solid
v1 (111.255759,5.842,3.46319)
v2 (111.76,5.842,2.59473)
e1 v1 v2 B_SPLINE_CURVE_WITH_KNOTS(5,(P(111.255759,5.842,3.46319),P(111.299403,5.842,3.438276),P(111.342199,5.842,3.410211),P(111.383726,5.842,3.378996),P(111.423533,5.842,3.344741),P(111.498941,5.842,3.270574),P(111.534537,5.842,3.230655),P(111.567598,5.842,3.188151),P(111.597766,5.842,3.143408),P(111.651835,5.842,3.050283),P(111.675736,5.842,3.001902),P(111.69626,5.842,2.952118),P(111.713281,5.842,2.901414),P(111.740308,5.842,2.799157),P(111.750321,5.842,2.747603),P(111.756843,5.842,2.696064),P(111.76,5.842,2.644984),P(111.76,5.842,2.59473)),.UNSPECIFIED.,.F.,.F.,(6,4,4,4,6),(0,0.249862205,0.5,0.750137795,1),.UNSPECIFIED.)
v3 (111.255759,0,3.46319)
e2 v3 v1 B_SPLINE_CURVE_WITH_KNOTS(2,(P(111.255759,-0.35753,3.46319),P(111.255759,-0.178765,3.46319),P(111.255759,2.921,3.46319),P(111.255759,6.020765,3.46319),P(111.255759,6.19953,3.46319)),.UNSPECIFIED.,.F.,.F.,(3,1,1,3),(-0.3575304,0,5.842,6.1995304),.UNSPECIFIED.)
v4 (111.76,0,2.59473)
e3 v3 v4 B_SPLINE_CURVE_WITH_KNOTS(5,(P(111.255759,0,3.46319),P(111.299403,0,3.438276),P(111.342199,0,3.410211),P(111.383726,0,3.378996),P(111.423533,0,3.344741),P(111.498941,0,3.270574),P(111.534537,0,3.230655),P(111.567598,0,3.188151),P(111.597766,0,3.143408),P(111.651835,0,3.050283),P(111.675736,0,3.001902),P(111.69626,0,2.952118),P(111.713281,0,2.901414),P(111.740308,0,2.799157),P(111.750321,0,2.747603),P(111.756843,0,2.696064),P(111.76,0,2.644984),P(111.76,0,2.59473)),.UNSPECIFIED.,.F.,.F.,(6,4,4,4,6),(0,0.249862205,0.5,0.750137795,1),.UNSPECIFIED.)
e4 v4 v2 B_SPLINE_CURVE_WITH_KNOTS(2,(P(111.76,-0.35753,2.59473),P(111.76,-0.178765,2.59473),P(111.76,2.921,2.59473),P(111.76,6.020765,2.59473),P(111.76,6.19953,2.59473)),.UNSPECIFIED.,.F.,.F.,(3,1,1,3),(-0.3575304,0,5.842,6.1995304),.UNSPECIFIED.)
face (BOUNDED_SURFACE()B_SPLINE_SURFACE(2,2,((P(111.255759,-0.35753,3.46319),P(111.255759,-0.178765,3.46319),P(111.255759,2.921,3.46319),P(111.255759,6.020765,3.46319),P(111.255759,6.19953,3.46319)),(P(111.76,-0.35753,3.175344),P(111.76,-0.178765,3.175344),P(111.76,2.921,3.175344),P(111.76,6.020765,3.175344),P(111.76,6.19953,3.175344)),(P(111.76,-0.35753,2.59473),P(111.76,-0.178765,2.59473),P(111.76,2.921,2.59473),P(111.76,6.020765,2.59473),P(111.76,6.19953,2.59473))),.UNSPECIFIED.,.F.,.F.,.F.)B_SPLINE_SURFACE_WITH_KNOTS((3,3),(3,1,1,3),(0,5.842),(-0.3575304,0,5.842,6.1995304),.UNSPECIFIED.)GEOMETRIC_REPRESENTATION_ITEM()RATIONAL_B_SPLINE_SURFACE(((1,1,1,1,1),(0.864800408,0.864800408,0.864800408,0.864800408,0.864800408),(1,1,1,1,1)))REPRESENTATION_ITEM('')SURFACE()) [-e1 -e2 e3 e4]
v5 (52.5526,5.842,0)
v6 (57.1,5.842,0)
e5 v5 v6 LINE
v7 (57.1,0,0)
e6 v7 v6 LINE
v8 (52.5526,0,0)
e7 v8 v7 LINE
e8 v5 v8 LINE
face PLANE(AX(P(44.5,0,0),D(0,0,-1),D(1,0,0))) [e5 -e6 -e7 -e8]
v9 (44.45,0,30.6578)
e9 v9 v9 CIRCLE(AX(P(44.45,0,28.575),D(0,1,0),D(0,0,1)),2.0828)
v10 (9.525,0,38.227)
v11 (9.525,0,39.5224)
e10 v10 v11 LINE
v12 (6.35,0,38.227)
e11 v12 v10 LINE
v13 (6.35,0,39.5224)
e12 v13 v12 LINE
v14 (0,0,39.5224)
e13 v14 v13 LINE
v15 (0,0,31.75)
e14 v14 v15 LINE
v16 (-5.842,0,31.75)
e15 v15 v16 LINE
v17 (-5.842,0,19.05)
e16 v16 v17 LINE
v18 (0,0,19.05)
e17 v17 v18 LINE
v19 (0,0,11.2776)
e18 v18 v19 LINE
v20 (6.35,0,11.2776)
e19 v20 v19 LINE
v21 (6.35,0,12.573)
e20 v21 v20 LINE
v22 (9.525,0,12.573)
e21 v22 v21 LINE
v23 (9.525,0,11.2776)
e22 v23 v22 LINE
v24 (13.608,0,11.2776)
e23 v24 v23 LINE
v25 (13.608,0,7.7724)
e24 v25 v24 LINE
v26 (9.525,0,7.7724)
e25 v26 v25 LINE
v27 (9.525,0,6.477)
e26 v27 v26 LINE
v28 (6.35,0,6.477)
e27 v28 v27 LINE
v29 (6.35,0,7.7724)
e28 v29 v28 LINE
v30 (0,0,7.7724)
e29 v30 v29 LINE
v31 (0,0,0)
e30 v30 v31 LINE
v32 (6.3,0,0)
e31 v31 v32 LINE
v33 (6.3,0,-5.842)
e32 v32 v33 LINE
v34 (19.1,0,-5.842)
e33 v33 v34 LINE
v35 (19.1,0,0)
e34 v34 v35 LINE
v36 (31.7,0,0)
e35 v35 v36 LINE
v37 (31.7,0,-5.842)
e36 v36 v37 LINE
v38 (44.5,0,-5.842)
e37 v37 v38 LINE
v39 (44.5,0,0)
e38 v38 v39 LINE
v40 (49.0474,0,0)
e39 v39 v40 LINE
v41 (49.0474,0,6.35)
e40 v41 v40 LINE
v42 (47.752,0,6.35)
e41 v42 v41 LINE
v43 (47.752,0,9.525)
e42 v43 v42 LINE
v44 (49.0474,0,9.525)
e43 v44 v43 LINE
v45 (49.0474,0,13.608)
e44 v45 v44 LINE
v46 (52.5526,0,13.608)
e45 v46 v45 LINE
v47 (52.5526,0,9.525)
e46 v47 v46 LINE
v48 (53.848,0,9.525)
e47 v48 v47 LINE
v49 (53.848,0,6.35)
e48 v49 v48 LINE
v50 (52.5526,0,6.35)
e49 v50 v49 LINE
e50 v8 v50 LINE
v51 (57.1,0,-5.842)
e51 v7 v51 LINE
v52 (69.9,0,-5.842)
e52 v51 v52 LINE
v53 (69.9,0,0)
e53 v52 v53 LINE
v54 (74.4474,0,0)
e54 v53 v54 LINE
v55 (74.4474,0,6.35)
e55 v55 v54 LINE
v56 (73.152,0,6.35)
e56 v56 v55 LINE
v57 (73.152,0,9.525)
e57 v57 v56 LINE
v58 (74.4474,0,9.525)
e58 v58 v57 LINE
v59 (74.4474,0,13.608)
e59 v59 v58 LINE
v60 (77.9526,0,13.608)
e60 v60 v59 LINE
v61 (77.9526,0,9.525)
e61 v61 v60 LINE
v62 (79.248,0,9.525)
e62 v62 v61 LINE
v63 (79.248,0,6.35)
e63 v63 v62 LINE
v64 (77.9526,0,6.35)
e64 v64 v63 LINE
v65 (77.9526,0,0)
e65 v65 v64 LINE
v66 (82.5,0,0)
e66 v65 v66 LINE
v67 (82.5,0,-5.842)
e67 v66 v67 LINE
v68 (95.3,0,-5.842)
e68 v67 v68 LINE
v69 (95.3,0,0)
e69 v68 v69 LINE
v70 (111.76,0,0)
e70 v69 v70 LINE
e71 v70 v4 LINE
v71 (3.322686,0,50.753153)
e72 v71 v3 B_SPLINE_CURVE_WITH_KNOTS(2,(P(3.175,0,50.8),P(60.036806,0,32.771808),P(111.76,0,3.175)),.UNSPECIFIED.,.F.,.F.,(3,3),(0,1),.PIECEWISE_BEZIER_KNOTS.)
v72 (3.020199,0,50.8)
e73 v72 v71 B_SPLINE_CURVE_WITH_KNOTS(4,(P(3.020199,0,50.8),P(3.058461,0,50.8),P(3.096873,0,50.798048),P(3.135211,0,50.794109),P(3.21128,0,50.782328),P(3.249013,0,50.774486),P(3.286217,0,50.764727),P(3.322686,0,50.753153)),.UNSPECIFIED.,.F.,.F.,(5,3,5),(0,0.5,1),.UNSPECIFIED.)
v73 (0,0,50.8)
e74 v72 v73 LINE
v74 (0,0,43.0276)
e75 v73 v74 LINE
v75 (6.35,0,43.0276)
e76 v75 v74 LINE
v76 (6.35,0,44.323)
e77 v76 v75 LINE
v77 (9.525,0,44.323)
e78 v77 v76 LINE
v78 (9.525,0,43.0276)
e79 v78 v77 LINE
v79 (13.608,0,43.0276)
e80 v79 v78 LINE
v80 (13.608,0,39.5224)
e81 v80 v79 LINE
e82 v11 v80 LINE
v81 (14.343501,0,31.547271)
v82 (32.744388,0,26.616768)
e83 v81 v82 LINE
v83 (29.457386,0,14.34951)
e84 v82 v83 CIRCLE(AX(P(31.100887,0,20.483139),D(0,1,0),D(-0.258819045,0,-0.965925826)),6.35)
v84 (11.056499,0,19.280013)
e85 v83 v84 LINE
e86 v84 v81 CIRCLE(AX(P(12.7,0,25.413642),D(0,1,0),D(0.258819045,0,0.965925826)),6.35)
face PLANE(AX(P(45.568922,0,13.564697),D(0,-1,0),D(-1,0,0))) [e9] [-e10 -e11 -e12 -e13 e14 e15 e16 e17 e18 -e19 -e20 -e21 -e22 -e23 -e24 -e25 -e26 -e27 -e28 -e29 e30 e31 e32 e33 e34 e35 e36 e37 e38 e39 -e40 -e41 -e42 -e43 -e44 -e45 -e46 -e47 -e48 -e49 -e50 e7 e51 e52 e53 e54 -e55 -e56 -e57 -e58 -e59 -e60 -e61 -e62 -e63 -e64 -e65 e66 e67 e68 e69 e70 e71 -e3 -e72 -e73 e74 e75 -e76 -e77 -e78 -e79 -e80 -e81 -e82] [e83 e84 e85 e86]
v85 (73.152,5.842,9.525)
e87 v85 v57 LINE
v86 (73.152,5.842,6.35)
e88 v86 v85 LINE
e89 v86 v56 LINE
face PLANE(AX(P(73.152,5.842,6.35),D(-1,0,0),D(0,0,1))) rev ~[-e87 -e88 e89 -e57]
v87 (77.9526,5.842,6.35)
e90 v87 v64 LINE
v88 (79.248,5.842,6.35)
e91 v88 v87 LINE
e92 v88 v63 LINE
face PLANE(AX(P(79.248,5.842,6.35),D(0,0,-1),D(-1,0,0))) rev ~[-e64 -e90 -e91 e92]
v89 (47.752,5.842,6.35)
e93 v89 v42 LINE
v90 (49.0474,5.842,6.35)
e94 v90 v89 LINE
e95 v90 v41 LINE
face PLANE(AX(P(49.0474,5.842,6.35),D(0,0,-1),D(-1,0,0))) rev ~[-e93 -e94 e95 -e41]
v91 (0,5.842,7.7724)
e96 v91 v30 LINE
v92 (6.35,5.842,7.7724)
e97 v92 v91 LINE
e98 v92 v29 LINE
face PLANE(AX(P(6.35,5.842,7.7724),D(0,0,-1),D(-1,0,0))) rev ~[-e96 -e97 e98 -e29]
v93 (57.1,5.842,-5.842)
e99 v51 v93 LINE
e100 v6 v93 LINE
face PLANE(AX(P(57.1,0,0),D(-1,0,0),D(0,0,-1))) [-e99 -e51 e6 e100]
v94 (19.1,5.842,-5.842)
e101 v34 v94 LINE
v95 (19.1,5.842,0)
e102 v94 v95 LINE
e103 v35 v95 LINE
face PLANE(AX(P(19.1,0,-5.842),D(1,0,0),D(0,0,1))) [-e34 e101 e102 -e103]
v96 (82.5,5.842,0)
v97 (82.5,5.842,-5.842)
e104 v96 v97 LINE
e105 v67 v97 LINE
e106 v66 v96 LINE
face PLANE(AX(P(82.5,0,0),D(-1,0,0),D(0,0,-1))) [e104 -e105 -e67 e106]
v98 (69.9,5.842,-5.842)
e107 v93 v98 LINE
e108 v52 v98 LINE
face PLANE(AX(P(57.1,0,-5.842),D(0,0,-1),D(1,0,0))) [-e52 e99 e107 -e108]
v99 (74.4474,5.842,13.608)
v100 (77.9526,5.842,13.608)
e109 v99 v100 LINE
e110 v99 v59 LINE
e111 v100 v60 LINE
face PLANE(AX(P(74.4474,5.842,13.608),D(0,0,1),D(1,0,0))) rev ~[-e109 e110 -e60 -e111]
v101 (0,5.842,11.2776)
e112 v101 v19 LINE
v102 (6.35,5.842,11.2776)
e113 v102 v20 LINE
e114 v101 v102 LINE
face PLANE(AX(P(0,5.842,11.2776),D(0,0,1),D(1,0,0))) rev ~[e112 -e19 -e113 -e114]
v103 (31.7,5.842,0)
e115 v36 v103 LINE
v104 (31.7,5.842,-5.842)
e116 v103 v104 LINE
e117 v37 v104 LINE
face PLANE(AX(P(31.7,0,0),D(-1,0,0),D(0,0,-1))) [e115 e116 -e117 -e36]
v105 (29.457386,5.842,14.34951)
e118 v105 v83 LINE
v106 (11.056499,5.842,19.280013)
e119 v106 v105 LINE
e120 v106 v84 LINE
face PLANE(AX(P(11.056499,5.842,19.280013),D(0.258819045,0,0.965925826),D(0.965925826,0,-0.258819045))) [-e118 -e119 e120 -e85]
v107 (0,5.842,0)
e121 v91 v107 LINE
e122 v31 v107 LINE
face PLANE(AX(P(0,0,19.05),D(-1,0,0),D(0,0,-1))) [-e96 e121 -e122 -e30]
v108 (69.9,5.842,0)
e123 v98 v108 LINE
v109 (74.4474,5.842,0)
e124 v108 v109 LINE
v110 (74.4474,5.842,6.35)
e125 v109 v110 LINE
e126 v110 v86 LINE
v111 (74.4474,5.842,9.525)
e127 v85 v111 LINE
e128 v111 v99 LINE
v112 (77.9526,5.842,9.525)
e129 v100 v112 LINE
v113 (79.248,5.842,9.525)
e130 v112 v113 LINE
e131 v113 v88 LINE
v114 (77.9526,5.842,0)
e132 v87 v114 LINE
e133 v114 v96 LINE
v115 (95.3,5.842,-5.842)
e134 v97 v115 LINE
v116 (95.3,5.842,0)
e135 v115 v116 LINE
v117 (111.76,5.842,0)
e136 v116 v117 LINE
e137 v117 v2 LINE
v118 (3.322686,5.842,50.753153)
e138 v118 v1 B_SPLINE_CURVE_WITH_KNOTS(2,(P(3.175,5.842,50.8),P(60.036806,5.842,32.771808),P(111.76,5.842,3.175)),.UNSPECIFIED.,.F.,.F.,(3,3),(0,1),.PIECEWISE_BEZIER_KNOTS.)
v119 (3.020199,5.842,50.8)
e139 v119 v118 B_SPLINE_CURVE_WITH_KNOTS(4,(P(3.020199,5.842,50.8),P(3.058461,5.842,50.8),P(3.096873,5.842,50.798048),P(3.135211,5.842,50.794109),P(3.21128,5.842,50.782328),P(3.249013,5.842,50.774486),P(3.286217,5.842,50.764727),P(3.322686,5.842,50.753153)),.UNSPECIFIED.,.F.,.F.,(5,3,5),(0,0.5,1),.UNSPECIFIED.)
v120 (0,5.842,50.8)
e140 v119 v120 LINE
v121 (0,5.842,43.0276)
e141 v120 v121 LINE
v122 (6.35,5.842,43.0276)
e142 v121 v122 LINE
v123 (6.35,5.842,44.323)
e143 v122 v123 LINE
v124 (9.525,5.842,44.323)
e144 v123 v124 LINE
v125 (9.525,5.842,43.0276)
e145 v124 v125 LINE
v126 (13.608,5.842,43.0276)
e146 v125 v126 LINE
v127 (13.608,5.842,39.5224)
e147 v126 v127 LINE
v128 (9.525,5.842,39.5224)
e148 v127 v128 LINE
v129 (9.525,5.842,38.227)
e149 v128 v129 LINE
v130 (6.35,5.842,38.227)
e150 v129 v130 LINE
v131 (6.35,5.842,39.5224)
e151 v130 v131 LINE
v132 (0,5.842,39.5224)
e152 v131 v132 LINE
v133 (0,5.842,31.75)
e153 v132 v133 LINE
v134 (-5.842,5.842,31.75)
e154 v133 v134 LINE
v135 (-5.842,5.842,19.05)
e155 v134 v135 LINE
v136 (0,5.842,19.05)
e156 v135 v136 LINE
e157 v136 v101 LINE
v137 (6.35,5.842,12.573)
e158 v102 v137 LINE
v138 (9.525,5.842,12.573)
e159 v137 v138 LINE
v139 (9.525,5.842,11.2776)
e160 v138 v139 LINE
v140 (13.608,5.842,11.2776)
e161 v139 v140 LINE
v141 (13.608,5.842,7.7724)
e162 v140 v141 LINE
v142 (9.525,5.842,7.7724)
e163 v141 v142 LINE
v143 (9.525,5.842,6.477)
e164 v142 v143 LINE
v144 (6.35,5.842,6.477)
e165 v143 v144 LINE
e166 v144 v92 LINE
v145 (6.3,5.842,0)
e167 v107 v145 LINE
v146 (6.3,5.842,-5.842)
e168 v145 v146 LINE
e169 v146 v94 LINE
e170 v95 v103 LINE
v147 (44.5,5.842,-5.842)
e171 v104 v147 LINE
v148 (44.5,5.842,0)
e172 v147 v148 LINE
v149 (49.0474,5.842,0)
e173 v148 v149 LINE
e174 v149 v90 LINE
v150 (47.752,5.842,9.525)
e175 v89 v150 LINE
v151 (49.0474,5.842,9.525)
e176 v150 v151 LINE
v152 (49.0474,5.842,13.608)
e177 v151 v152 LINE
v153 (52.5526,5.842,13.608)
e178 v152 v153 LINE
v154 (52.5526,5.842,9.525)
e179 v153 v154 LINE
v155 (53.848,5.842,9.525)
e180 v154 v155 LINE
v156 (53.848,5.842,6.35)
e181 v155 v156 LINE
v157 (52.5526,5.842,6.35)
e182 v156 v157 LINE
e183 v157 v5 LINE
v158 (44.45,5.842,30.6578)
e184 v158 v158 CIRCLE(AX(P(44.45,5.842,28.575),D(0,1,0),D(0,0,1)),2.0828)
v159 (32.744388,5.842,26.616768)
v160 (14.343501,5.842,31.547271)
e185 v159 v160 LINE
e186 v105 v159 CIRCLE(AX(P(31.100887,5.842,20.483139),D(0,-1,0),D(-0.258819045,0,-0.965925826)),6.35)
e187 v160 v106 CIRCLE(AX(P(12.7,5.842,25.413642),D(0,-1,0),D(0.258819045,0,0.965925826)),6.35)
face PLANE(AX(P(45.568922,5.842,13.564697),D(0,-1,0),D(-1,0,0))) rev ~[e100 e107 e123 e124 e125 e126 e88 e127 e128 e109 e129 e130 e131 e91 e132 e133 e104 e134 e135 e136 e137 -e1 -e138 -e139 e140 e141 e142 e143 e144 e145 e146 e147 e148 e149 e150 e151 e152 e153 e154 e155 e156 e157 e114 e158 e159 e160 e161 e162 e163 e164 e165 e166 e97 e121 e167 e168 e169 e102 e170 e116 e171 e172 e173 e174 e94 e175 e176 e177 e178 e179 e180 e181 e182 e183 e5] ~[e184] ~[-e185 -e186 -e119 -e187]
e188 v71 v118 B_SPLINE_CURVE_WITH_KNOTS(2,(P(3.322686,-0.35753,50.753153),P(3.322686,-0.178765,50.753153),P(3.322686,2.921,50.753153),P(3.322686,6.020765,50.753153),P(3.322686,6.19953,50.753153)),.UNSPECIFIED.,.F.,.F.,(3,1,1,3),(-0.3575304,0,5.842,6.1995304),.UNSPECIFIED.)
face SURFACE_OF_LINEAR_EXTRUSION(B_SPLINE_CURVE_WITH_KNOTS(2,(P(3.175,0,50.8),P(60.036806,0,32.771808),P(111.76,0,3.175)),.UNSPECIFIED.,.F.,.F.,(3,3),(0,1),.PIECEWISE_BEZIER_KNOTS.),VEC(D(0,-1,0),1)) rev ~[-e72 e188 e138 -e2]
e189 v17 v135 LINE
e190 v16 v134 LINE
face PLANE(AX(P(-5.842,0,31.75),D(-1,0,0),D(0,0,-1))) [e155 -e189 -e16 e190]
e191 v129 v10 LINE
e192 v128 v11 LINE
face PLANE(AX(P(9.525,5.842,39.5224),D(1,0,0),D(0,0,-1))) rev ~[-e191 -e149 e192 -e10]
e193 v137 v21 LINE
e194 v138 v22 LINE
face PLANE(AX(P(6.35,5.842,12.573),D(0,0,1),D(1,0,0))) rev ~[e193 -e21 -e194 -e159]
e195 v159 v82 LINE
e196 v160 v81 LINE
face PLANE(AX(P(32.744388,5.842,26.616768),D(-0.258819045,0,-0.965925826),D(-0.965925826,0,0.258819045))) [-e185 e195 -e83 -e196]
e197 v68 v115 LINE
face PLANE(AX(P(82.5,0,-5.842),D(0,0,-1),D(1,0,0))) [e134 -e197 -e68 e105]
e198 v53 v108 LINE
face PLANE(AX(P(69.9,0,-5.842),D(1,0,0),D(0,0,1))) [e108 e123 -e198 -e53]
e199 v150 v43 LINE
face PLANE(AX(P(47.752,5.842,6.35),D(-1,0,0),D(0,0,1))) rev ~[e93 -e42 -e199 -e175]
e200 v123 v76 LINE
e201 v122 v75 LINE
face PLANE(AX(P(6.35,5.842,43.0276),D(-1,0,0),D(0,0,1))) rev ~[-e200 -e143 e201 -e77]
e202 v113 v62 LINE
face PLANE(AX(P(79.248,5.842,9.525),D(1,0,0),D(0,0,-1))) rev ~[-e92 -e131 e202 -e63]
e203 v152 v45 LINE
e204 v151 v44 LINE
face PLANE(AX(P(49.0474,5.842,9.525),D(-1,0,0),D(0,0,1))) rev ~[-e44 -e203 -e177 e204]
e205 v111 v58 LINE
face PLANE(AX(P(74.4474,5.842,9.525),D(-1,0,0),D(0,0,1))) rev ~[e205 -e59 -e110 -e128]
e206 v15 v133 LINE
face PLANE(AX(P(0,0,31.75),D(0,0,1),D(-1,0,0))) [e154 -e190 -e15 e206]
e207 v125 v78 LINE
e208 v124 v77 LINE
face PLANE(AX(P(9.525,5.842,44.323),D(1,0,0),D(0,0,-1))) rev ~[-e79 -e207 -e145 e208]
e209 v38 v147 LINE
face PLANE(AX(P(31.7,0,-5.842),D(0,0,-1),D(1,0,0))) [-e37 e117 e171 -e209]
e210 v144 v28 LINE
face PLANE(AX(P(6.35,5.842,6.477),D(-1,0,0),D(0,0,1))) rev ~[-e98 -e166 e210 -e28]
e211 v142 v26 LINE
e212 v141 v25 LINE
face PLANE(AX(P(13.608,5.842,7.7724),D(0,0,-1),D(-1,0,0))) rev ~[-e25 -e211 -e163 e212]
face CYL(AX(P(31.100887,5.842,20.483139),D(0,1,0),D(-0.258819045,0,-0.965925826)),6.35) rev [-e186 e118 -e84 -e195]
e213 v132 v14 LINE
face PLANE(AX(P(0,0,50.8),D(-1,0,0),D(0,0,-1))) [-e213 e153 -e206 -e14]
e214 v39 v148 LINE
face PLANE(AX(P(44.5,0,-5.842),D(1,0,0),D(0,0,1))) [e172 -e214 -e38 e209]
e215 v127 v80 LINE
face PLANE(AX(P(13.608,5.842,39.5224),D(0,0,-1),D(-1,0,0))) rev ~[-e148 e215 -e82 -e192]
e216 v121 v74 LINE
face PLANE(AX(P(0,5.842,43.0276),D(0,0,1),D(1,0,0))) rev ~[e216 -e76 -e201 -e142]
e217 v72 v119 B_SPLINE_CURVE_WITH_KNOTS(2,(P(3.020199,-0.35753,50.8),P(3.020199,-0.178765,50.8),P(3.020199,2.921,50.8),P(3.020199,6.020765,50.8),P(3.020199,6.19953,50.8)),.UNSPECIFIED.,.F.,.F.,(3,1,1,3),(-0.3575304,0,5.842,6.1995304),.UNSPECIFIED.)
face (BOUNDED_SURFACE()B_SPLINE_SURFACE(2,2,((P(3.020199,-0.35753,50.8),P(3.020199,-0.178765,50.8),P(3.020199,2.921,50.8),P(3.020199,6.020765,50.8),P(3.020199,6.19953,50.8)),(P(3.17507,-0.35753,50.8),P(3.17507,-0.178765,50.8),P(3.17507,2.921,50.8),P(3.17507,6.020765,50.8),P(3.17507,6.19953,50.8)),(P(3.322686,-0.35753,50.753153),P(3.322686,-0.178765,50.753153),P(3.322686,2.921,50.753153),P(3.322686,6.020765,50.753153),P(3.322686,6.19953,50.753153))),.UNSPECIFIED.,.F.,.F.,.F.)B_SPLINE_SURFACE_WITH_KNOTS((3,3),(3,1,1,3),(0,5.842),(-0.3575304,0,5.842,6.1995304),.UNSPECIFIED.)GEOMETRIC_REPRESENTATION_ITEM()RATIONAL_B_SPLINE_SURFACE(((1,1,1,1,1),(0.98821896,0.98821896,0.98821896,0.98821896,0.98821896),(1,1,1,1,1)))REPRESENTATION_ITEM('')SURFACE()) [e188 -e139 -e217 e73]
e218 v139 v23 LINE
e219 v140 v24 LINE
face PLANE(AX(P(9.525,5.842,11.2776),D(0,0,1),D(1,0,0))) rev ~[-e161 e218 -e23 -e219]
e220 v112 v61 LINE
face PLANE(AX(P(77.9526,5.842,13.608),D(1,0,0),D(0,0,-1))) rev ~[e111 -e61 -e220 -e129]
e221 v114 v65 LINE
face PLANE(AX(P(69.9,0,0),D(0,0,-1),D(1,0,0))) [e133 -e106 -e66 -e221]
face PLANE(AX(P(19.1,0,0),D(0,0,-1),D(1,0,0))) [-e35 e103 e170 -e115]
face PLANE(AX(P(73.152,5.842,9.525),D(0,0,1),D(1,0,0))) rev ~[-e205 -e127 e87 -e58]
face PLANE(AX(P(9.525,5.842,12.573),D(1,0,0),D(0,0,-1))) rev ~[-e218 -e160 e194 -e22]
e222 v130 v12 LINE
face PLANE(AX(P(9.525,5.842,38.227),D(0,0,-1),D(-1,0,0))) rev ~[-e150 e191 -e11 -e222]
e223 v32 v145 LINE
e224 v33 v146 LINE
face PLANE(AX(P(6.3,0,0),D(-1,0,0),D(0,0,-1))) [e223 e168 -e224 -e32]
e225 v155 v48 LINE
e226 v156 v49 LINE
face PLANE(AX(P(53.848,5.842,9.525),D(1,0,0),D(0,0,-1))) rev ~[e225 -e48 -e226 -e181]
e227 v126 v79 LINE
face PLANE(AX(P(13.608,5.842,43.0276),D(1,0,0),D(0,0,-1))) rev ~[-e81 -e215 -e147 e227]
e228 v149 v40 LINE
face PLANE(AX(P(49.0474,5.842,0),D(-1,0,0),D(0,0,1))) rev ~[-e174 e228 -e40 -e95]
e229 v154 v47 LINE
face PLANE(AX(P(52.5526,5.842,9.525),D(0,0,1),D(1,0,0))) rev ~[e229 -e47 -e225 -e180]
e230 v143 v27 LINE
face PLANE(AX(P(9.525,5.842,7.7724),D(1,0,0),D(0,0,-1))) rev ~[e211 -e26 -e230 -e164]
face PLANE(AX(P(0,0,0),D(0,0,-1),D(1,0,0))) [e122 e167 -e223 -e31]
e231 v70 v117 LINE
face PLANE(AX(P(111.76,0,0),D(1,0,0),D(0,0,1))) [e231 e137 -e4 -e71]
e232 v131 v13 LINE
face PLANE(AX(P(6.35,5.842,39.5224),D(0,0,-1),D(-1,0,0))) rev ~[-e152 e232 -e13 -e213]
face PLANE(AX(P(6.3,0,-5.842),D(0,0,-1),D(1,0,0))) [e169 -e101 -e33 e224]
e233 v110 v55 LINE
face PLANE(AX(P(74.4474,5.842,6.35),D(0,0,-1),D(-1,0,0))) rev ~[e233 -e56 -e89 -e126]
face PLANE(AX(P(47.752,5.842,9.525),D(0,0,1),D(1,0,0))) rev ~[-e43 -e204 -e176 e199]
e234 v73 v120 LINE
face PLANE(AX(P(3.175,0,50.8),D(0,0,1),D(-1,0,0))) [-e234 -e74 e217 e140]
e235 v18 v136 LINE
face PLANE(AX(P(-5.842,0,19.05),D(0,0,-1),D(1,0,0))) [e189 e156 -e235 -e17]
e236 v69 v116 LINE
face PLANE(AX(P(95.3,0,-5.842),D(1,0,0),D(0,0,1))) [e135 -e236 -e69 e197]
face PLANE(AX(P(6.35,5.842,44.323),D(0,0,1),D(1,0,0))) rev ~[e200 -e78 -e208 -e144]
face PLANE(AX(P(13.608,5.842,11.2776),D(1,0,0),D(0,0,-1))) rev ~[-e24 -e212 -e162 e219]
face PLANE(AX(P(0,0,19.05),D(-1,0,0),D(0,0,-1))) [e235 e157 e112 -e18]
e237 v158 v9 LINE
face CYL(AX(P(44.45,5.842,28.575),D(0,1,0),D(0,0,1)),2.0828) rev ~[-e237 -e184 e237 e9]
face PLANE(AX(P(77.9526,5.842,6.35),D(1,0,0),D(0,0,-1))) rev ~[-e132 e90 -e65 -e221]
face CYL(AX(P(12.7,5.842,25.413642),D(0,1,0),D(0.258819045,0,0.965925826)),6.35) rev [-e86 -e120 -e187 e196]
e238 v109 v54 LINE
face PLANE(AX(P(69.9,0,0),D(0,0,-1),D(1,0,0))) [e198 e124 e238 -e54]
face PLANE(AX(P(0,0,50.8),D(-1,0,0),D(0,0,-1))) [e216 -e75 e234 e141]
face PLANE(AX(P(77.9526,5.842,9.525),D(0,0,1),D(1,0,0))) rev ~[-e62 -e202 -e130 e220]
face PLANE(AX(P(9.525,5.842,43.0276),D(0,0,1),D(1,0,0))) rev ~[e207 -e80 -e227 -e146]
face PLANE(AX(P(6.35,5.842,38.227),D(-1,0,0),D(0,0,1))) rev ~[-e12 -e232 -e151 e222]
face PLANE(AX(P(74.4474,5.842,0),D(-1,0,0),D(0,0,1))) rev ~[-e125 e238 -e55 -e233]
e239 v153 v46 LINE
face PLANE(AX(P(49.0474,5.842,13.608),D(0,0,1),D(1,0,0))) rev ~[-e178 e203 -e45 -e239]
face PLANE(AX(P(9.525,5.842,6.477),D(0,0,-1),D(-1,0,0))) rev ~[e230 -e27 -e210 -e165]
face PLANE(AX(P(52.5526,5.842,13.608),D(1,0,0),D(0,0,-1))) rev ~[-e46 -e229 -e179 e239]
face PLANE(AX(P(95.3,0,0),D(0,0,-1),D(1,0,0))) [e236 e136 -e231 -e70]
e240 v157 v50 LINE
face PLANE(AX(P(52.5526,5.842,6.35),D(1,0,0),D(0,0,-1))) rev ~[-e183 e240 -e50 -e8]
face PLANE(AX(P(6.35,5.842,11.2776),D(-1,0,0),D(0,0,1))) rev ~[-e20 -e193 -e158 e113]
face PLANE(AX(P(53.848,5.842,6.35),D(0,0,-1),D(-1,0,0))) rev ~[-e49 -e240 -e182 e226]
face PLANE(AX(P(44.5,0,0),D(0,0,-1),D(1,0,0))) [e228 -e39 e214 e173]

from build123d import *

# Parameters (mm, degrees)
BOSS_EXTRUDE1_DEPTH = 5.842
CUT_EXTRUDE1_DEPTH  = 123.902671239
FILLET1_R           = 1
CUT_EXTRUDE2_DEPTH  = 123.902671239
SKETCH5_R           = 2.0828
CUT_EXTRUDE3_DEPTH  = 123.902671239


with BuildPart() as part:
    # Sketch1 → Boss-Extrude1 (new body)
    with BuildSketch(Plane(origin=(0, 0, 0), x_dir=(1, 0, 0), z_dir=(0, 1, 0))):
        with BuildLine():
            Line((0, 0), (6.3, 0))
            Line((6.3, 0), (6.3, 5.842))
            Line((6.3, 5.842), (19.1, 5.842))
            Line((19.1, 5.842), (19.1, 0))
            Line((19.1, 0), (31.7, 0))
            Line((31.7, 0), (31.7, 5.842))
            Line((31.7, 5.842), (44.5, 5.842))
            Line((44.5, 5.842), (44.5, 0))
            Line((44.5, 0), (57.1, 0))
            Line((57.1, 0), (57.1, 5.842))
            Line((57.1, 5.842), (69.9, 5.842))
            Line((69.9, 5.842), (69.9, 0))
            Line((69.9, 0), (82.5, 0))
            Line((82.5, 0), (82.5, 5.842))
            Line((82.5, 5.842), (95.3, 5.842))
            Line((95.3, 5.842), (95.3, 0))
            Line((95.3, 0), (111.76, 0))
            Line((111.76, 0), (111.76, -3.175))
            add(Edge.make_bspline(
                [(3.175, -50.8), (60.036806346, -32.771807959), (111.76, -3.175)],
                knots=[0, 0, 0, 1, 1, 1], degree=2))
            Line((3.175, -50.8), (0, -50.8))
            Line((0, -50.8), (0, -31.75))
            Line((0, -31.75), (-5.842, -31.75))
            Line((-5.842, -31.75), (-5.842, -19.05))
            Line((-5.842, -19.05), (0, -19.05))
            Line((0, -19.05), (0, 0))
        make_face()
    extrude(amount=BOSS_EXTRUDE1_DEPTH)

    # Sketch3 → Cut-Extrude1 (cut, through all)
    with BuildSketch(Plane(origin=(0, 5.842, 0), x_dir=(1, 0, 0), z_dir=(0, 1, 0))):
        with BuildLine():
            Line((11.056499064, -19.28001312), (29.457386054, -14.349510311))
            ThreePointArc((29.457386054, -14.349510311), (37.234515988, -18.839638371), (32.744387927, -26.616768304))
            Line((32.744387927, -26.616768304), (14.343500936, -31.547271114))
            ThreePointArc((14.343500936, -31.547271114), (6.566371003, -27.057143053), (11.056499064, -19.28001312))
        make_face()
    extrude(amount=-CUT_EXTRUDE1_DEPTH, mode=Mode.SUBTRACT)

    # Fillet1
    fillet1_edges = [part.edges().sort_by_distance(p)[0] for p in [
        (3.175, 2.921, 50.8),
        (111.76, 2.921, 3.175),
    ]]
    fillet(fillet1_edges, radius=FILLET1_R)

    # Sketch4 → Cut-Extrude2 (cut, through all)
    with BuildSketch(Plane(origin=(0, 5.842, 0), x_dir=(1, 0, 0), z_dir=(0, 1, 0))):
        Polygon((49.0474, -6.35), (47.752, -6.35), (47.752, -9.525), (49.0474, -9.525), (49.0474, -13.608), (52.5526, -13.608), (52.5526, -9.525), (53.848, -9.525), (53.848, -6.35), (52.5526, -6.35), (52.5526, 0), (49.0474, 0), align=None)
        Polygon((74.4474, -6.35), (73.152, -6.35), (73.152, -9.525), (74.4474, -9.525), (74.4474, -13.608), (77.9526, -13.608), (77.9526, -9.525), (79.248, -9.525), (79.248, -6.35), (77.9526, -6.35), (77.9526, 0), (74.4474, 0), align=None)
        Polygon((9.525, -7.7724), (9.525, -6.477), (6.35, -6.477), (6.35, -7.7724), (0, -7.7724), (0, -11.2776), (6.35, -11.2776), (6.35, -12.573), (9.525, -12.573), (9.525, -11.2776), (13.607999962, -11.2776), (13.607999962, -7.7724), align=None)
        Polygon((6.35, -43.0276), (6.35, -44.323), (9.525, -44.323), (9.525, -43.0276), (13.607999962, -43.0276), (13.607999962, -39.5224), (9.525, -39.5224), (9.525, -38.227), (6.35, -38.227), (6.35, -39.5224), (0, -39.5224), (0, -43.0276), align=None)
    extrude(amount=-CUT_EXTRUDE2_DEPTH, mode=Mode.SUBTRACT)

    # Sketch5 → Cut-Extrude3 (cut, through all)
    with BuildSketch(Plane(origin=(0, 5.842, 0), x_dir=(1, 0, 0), z_dir=(0, 1, 0))):
        with Locations(Location((44.45, -28.575, 0), (0, 0, 270))):
            Circle(SKETCH5_R)
    extrude(amount=-CUT_EXTRUDE3_DEPTH, mode=Mode.SUBTRACT)


solid = part.part
